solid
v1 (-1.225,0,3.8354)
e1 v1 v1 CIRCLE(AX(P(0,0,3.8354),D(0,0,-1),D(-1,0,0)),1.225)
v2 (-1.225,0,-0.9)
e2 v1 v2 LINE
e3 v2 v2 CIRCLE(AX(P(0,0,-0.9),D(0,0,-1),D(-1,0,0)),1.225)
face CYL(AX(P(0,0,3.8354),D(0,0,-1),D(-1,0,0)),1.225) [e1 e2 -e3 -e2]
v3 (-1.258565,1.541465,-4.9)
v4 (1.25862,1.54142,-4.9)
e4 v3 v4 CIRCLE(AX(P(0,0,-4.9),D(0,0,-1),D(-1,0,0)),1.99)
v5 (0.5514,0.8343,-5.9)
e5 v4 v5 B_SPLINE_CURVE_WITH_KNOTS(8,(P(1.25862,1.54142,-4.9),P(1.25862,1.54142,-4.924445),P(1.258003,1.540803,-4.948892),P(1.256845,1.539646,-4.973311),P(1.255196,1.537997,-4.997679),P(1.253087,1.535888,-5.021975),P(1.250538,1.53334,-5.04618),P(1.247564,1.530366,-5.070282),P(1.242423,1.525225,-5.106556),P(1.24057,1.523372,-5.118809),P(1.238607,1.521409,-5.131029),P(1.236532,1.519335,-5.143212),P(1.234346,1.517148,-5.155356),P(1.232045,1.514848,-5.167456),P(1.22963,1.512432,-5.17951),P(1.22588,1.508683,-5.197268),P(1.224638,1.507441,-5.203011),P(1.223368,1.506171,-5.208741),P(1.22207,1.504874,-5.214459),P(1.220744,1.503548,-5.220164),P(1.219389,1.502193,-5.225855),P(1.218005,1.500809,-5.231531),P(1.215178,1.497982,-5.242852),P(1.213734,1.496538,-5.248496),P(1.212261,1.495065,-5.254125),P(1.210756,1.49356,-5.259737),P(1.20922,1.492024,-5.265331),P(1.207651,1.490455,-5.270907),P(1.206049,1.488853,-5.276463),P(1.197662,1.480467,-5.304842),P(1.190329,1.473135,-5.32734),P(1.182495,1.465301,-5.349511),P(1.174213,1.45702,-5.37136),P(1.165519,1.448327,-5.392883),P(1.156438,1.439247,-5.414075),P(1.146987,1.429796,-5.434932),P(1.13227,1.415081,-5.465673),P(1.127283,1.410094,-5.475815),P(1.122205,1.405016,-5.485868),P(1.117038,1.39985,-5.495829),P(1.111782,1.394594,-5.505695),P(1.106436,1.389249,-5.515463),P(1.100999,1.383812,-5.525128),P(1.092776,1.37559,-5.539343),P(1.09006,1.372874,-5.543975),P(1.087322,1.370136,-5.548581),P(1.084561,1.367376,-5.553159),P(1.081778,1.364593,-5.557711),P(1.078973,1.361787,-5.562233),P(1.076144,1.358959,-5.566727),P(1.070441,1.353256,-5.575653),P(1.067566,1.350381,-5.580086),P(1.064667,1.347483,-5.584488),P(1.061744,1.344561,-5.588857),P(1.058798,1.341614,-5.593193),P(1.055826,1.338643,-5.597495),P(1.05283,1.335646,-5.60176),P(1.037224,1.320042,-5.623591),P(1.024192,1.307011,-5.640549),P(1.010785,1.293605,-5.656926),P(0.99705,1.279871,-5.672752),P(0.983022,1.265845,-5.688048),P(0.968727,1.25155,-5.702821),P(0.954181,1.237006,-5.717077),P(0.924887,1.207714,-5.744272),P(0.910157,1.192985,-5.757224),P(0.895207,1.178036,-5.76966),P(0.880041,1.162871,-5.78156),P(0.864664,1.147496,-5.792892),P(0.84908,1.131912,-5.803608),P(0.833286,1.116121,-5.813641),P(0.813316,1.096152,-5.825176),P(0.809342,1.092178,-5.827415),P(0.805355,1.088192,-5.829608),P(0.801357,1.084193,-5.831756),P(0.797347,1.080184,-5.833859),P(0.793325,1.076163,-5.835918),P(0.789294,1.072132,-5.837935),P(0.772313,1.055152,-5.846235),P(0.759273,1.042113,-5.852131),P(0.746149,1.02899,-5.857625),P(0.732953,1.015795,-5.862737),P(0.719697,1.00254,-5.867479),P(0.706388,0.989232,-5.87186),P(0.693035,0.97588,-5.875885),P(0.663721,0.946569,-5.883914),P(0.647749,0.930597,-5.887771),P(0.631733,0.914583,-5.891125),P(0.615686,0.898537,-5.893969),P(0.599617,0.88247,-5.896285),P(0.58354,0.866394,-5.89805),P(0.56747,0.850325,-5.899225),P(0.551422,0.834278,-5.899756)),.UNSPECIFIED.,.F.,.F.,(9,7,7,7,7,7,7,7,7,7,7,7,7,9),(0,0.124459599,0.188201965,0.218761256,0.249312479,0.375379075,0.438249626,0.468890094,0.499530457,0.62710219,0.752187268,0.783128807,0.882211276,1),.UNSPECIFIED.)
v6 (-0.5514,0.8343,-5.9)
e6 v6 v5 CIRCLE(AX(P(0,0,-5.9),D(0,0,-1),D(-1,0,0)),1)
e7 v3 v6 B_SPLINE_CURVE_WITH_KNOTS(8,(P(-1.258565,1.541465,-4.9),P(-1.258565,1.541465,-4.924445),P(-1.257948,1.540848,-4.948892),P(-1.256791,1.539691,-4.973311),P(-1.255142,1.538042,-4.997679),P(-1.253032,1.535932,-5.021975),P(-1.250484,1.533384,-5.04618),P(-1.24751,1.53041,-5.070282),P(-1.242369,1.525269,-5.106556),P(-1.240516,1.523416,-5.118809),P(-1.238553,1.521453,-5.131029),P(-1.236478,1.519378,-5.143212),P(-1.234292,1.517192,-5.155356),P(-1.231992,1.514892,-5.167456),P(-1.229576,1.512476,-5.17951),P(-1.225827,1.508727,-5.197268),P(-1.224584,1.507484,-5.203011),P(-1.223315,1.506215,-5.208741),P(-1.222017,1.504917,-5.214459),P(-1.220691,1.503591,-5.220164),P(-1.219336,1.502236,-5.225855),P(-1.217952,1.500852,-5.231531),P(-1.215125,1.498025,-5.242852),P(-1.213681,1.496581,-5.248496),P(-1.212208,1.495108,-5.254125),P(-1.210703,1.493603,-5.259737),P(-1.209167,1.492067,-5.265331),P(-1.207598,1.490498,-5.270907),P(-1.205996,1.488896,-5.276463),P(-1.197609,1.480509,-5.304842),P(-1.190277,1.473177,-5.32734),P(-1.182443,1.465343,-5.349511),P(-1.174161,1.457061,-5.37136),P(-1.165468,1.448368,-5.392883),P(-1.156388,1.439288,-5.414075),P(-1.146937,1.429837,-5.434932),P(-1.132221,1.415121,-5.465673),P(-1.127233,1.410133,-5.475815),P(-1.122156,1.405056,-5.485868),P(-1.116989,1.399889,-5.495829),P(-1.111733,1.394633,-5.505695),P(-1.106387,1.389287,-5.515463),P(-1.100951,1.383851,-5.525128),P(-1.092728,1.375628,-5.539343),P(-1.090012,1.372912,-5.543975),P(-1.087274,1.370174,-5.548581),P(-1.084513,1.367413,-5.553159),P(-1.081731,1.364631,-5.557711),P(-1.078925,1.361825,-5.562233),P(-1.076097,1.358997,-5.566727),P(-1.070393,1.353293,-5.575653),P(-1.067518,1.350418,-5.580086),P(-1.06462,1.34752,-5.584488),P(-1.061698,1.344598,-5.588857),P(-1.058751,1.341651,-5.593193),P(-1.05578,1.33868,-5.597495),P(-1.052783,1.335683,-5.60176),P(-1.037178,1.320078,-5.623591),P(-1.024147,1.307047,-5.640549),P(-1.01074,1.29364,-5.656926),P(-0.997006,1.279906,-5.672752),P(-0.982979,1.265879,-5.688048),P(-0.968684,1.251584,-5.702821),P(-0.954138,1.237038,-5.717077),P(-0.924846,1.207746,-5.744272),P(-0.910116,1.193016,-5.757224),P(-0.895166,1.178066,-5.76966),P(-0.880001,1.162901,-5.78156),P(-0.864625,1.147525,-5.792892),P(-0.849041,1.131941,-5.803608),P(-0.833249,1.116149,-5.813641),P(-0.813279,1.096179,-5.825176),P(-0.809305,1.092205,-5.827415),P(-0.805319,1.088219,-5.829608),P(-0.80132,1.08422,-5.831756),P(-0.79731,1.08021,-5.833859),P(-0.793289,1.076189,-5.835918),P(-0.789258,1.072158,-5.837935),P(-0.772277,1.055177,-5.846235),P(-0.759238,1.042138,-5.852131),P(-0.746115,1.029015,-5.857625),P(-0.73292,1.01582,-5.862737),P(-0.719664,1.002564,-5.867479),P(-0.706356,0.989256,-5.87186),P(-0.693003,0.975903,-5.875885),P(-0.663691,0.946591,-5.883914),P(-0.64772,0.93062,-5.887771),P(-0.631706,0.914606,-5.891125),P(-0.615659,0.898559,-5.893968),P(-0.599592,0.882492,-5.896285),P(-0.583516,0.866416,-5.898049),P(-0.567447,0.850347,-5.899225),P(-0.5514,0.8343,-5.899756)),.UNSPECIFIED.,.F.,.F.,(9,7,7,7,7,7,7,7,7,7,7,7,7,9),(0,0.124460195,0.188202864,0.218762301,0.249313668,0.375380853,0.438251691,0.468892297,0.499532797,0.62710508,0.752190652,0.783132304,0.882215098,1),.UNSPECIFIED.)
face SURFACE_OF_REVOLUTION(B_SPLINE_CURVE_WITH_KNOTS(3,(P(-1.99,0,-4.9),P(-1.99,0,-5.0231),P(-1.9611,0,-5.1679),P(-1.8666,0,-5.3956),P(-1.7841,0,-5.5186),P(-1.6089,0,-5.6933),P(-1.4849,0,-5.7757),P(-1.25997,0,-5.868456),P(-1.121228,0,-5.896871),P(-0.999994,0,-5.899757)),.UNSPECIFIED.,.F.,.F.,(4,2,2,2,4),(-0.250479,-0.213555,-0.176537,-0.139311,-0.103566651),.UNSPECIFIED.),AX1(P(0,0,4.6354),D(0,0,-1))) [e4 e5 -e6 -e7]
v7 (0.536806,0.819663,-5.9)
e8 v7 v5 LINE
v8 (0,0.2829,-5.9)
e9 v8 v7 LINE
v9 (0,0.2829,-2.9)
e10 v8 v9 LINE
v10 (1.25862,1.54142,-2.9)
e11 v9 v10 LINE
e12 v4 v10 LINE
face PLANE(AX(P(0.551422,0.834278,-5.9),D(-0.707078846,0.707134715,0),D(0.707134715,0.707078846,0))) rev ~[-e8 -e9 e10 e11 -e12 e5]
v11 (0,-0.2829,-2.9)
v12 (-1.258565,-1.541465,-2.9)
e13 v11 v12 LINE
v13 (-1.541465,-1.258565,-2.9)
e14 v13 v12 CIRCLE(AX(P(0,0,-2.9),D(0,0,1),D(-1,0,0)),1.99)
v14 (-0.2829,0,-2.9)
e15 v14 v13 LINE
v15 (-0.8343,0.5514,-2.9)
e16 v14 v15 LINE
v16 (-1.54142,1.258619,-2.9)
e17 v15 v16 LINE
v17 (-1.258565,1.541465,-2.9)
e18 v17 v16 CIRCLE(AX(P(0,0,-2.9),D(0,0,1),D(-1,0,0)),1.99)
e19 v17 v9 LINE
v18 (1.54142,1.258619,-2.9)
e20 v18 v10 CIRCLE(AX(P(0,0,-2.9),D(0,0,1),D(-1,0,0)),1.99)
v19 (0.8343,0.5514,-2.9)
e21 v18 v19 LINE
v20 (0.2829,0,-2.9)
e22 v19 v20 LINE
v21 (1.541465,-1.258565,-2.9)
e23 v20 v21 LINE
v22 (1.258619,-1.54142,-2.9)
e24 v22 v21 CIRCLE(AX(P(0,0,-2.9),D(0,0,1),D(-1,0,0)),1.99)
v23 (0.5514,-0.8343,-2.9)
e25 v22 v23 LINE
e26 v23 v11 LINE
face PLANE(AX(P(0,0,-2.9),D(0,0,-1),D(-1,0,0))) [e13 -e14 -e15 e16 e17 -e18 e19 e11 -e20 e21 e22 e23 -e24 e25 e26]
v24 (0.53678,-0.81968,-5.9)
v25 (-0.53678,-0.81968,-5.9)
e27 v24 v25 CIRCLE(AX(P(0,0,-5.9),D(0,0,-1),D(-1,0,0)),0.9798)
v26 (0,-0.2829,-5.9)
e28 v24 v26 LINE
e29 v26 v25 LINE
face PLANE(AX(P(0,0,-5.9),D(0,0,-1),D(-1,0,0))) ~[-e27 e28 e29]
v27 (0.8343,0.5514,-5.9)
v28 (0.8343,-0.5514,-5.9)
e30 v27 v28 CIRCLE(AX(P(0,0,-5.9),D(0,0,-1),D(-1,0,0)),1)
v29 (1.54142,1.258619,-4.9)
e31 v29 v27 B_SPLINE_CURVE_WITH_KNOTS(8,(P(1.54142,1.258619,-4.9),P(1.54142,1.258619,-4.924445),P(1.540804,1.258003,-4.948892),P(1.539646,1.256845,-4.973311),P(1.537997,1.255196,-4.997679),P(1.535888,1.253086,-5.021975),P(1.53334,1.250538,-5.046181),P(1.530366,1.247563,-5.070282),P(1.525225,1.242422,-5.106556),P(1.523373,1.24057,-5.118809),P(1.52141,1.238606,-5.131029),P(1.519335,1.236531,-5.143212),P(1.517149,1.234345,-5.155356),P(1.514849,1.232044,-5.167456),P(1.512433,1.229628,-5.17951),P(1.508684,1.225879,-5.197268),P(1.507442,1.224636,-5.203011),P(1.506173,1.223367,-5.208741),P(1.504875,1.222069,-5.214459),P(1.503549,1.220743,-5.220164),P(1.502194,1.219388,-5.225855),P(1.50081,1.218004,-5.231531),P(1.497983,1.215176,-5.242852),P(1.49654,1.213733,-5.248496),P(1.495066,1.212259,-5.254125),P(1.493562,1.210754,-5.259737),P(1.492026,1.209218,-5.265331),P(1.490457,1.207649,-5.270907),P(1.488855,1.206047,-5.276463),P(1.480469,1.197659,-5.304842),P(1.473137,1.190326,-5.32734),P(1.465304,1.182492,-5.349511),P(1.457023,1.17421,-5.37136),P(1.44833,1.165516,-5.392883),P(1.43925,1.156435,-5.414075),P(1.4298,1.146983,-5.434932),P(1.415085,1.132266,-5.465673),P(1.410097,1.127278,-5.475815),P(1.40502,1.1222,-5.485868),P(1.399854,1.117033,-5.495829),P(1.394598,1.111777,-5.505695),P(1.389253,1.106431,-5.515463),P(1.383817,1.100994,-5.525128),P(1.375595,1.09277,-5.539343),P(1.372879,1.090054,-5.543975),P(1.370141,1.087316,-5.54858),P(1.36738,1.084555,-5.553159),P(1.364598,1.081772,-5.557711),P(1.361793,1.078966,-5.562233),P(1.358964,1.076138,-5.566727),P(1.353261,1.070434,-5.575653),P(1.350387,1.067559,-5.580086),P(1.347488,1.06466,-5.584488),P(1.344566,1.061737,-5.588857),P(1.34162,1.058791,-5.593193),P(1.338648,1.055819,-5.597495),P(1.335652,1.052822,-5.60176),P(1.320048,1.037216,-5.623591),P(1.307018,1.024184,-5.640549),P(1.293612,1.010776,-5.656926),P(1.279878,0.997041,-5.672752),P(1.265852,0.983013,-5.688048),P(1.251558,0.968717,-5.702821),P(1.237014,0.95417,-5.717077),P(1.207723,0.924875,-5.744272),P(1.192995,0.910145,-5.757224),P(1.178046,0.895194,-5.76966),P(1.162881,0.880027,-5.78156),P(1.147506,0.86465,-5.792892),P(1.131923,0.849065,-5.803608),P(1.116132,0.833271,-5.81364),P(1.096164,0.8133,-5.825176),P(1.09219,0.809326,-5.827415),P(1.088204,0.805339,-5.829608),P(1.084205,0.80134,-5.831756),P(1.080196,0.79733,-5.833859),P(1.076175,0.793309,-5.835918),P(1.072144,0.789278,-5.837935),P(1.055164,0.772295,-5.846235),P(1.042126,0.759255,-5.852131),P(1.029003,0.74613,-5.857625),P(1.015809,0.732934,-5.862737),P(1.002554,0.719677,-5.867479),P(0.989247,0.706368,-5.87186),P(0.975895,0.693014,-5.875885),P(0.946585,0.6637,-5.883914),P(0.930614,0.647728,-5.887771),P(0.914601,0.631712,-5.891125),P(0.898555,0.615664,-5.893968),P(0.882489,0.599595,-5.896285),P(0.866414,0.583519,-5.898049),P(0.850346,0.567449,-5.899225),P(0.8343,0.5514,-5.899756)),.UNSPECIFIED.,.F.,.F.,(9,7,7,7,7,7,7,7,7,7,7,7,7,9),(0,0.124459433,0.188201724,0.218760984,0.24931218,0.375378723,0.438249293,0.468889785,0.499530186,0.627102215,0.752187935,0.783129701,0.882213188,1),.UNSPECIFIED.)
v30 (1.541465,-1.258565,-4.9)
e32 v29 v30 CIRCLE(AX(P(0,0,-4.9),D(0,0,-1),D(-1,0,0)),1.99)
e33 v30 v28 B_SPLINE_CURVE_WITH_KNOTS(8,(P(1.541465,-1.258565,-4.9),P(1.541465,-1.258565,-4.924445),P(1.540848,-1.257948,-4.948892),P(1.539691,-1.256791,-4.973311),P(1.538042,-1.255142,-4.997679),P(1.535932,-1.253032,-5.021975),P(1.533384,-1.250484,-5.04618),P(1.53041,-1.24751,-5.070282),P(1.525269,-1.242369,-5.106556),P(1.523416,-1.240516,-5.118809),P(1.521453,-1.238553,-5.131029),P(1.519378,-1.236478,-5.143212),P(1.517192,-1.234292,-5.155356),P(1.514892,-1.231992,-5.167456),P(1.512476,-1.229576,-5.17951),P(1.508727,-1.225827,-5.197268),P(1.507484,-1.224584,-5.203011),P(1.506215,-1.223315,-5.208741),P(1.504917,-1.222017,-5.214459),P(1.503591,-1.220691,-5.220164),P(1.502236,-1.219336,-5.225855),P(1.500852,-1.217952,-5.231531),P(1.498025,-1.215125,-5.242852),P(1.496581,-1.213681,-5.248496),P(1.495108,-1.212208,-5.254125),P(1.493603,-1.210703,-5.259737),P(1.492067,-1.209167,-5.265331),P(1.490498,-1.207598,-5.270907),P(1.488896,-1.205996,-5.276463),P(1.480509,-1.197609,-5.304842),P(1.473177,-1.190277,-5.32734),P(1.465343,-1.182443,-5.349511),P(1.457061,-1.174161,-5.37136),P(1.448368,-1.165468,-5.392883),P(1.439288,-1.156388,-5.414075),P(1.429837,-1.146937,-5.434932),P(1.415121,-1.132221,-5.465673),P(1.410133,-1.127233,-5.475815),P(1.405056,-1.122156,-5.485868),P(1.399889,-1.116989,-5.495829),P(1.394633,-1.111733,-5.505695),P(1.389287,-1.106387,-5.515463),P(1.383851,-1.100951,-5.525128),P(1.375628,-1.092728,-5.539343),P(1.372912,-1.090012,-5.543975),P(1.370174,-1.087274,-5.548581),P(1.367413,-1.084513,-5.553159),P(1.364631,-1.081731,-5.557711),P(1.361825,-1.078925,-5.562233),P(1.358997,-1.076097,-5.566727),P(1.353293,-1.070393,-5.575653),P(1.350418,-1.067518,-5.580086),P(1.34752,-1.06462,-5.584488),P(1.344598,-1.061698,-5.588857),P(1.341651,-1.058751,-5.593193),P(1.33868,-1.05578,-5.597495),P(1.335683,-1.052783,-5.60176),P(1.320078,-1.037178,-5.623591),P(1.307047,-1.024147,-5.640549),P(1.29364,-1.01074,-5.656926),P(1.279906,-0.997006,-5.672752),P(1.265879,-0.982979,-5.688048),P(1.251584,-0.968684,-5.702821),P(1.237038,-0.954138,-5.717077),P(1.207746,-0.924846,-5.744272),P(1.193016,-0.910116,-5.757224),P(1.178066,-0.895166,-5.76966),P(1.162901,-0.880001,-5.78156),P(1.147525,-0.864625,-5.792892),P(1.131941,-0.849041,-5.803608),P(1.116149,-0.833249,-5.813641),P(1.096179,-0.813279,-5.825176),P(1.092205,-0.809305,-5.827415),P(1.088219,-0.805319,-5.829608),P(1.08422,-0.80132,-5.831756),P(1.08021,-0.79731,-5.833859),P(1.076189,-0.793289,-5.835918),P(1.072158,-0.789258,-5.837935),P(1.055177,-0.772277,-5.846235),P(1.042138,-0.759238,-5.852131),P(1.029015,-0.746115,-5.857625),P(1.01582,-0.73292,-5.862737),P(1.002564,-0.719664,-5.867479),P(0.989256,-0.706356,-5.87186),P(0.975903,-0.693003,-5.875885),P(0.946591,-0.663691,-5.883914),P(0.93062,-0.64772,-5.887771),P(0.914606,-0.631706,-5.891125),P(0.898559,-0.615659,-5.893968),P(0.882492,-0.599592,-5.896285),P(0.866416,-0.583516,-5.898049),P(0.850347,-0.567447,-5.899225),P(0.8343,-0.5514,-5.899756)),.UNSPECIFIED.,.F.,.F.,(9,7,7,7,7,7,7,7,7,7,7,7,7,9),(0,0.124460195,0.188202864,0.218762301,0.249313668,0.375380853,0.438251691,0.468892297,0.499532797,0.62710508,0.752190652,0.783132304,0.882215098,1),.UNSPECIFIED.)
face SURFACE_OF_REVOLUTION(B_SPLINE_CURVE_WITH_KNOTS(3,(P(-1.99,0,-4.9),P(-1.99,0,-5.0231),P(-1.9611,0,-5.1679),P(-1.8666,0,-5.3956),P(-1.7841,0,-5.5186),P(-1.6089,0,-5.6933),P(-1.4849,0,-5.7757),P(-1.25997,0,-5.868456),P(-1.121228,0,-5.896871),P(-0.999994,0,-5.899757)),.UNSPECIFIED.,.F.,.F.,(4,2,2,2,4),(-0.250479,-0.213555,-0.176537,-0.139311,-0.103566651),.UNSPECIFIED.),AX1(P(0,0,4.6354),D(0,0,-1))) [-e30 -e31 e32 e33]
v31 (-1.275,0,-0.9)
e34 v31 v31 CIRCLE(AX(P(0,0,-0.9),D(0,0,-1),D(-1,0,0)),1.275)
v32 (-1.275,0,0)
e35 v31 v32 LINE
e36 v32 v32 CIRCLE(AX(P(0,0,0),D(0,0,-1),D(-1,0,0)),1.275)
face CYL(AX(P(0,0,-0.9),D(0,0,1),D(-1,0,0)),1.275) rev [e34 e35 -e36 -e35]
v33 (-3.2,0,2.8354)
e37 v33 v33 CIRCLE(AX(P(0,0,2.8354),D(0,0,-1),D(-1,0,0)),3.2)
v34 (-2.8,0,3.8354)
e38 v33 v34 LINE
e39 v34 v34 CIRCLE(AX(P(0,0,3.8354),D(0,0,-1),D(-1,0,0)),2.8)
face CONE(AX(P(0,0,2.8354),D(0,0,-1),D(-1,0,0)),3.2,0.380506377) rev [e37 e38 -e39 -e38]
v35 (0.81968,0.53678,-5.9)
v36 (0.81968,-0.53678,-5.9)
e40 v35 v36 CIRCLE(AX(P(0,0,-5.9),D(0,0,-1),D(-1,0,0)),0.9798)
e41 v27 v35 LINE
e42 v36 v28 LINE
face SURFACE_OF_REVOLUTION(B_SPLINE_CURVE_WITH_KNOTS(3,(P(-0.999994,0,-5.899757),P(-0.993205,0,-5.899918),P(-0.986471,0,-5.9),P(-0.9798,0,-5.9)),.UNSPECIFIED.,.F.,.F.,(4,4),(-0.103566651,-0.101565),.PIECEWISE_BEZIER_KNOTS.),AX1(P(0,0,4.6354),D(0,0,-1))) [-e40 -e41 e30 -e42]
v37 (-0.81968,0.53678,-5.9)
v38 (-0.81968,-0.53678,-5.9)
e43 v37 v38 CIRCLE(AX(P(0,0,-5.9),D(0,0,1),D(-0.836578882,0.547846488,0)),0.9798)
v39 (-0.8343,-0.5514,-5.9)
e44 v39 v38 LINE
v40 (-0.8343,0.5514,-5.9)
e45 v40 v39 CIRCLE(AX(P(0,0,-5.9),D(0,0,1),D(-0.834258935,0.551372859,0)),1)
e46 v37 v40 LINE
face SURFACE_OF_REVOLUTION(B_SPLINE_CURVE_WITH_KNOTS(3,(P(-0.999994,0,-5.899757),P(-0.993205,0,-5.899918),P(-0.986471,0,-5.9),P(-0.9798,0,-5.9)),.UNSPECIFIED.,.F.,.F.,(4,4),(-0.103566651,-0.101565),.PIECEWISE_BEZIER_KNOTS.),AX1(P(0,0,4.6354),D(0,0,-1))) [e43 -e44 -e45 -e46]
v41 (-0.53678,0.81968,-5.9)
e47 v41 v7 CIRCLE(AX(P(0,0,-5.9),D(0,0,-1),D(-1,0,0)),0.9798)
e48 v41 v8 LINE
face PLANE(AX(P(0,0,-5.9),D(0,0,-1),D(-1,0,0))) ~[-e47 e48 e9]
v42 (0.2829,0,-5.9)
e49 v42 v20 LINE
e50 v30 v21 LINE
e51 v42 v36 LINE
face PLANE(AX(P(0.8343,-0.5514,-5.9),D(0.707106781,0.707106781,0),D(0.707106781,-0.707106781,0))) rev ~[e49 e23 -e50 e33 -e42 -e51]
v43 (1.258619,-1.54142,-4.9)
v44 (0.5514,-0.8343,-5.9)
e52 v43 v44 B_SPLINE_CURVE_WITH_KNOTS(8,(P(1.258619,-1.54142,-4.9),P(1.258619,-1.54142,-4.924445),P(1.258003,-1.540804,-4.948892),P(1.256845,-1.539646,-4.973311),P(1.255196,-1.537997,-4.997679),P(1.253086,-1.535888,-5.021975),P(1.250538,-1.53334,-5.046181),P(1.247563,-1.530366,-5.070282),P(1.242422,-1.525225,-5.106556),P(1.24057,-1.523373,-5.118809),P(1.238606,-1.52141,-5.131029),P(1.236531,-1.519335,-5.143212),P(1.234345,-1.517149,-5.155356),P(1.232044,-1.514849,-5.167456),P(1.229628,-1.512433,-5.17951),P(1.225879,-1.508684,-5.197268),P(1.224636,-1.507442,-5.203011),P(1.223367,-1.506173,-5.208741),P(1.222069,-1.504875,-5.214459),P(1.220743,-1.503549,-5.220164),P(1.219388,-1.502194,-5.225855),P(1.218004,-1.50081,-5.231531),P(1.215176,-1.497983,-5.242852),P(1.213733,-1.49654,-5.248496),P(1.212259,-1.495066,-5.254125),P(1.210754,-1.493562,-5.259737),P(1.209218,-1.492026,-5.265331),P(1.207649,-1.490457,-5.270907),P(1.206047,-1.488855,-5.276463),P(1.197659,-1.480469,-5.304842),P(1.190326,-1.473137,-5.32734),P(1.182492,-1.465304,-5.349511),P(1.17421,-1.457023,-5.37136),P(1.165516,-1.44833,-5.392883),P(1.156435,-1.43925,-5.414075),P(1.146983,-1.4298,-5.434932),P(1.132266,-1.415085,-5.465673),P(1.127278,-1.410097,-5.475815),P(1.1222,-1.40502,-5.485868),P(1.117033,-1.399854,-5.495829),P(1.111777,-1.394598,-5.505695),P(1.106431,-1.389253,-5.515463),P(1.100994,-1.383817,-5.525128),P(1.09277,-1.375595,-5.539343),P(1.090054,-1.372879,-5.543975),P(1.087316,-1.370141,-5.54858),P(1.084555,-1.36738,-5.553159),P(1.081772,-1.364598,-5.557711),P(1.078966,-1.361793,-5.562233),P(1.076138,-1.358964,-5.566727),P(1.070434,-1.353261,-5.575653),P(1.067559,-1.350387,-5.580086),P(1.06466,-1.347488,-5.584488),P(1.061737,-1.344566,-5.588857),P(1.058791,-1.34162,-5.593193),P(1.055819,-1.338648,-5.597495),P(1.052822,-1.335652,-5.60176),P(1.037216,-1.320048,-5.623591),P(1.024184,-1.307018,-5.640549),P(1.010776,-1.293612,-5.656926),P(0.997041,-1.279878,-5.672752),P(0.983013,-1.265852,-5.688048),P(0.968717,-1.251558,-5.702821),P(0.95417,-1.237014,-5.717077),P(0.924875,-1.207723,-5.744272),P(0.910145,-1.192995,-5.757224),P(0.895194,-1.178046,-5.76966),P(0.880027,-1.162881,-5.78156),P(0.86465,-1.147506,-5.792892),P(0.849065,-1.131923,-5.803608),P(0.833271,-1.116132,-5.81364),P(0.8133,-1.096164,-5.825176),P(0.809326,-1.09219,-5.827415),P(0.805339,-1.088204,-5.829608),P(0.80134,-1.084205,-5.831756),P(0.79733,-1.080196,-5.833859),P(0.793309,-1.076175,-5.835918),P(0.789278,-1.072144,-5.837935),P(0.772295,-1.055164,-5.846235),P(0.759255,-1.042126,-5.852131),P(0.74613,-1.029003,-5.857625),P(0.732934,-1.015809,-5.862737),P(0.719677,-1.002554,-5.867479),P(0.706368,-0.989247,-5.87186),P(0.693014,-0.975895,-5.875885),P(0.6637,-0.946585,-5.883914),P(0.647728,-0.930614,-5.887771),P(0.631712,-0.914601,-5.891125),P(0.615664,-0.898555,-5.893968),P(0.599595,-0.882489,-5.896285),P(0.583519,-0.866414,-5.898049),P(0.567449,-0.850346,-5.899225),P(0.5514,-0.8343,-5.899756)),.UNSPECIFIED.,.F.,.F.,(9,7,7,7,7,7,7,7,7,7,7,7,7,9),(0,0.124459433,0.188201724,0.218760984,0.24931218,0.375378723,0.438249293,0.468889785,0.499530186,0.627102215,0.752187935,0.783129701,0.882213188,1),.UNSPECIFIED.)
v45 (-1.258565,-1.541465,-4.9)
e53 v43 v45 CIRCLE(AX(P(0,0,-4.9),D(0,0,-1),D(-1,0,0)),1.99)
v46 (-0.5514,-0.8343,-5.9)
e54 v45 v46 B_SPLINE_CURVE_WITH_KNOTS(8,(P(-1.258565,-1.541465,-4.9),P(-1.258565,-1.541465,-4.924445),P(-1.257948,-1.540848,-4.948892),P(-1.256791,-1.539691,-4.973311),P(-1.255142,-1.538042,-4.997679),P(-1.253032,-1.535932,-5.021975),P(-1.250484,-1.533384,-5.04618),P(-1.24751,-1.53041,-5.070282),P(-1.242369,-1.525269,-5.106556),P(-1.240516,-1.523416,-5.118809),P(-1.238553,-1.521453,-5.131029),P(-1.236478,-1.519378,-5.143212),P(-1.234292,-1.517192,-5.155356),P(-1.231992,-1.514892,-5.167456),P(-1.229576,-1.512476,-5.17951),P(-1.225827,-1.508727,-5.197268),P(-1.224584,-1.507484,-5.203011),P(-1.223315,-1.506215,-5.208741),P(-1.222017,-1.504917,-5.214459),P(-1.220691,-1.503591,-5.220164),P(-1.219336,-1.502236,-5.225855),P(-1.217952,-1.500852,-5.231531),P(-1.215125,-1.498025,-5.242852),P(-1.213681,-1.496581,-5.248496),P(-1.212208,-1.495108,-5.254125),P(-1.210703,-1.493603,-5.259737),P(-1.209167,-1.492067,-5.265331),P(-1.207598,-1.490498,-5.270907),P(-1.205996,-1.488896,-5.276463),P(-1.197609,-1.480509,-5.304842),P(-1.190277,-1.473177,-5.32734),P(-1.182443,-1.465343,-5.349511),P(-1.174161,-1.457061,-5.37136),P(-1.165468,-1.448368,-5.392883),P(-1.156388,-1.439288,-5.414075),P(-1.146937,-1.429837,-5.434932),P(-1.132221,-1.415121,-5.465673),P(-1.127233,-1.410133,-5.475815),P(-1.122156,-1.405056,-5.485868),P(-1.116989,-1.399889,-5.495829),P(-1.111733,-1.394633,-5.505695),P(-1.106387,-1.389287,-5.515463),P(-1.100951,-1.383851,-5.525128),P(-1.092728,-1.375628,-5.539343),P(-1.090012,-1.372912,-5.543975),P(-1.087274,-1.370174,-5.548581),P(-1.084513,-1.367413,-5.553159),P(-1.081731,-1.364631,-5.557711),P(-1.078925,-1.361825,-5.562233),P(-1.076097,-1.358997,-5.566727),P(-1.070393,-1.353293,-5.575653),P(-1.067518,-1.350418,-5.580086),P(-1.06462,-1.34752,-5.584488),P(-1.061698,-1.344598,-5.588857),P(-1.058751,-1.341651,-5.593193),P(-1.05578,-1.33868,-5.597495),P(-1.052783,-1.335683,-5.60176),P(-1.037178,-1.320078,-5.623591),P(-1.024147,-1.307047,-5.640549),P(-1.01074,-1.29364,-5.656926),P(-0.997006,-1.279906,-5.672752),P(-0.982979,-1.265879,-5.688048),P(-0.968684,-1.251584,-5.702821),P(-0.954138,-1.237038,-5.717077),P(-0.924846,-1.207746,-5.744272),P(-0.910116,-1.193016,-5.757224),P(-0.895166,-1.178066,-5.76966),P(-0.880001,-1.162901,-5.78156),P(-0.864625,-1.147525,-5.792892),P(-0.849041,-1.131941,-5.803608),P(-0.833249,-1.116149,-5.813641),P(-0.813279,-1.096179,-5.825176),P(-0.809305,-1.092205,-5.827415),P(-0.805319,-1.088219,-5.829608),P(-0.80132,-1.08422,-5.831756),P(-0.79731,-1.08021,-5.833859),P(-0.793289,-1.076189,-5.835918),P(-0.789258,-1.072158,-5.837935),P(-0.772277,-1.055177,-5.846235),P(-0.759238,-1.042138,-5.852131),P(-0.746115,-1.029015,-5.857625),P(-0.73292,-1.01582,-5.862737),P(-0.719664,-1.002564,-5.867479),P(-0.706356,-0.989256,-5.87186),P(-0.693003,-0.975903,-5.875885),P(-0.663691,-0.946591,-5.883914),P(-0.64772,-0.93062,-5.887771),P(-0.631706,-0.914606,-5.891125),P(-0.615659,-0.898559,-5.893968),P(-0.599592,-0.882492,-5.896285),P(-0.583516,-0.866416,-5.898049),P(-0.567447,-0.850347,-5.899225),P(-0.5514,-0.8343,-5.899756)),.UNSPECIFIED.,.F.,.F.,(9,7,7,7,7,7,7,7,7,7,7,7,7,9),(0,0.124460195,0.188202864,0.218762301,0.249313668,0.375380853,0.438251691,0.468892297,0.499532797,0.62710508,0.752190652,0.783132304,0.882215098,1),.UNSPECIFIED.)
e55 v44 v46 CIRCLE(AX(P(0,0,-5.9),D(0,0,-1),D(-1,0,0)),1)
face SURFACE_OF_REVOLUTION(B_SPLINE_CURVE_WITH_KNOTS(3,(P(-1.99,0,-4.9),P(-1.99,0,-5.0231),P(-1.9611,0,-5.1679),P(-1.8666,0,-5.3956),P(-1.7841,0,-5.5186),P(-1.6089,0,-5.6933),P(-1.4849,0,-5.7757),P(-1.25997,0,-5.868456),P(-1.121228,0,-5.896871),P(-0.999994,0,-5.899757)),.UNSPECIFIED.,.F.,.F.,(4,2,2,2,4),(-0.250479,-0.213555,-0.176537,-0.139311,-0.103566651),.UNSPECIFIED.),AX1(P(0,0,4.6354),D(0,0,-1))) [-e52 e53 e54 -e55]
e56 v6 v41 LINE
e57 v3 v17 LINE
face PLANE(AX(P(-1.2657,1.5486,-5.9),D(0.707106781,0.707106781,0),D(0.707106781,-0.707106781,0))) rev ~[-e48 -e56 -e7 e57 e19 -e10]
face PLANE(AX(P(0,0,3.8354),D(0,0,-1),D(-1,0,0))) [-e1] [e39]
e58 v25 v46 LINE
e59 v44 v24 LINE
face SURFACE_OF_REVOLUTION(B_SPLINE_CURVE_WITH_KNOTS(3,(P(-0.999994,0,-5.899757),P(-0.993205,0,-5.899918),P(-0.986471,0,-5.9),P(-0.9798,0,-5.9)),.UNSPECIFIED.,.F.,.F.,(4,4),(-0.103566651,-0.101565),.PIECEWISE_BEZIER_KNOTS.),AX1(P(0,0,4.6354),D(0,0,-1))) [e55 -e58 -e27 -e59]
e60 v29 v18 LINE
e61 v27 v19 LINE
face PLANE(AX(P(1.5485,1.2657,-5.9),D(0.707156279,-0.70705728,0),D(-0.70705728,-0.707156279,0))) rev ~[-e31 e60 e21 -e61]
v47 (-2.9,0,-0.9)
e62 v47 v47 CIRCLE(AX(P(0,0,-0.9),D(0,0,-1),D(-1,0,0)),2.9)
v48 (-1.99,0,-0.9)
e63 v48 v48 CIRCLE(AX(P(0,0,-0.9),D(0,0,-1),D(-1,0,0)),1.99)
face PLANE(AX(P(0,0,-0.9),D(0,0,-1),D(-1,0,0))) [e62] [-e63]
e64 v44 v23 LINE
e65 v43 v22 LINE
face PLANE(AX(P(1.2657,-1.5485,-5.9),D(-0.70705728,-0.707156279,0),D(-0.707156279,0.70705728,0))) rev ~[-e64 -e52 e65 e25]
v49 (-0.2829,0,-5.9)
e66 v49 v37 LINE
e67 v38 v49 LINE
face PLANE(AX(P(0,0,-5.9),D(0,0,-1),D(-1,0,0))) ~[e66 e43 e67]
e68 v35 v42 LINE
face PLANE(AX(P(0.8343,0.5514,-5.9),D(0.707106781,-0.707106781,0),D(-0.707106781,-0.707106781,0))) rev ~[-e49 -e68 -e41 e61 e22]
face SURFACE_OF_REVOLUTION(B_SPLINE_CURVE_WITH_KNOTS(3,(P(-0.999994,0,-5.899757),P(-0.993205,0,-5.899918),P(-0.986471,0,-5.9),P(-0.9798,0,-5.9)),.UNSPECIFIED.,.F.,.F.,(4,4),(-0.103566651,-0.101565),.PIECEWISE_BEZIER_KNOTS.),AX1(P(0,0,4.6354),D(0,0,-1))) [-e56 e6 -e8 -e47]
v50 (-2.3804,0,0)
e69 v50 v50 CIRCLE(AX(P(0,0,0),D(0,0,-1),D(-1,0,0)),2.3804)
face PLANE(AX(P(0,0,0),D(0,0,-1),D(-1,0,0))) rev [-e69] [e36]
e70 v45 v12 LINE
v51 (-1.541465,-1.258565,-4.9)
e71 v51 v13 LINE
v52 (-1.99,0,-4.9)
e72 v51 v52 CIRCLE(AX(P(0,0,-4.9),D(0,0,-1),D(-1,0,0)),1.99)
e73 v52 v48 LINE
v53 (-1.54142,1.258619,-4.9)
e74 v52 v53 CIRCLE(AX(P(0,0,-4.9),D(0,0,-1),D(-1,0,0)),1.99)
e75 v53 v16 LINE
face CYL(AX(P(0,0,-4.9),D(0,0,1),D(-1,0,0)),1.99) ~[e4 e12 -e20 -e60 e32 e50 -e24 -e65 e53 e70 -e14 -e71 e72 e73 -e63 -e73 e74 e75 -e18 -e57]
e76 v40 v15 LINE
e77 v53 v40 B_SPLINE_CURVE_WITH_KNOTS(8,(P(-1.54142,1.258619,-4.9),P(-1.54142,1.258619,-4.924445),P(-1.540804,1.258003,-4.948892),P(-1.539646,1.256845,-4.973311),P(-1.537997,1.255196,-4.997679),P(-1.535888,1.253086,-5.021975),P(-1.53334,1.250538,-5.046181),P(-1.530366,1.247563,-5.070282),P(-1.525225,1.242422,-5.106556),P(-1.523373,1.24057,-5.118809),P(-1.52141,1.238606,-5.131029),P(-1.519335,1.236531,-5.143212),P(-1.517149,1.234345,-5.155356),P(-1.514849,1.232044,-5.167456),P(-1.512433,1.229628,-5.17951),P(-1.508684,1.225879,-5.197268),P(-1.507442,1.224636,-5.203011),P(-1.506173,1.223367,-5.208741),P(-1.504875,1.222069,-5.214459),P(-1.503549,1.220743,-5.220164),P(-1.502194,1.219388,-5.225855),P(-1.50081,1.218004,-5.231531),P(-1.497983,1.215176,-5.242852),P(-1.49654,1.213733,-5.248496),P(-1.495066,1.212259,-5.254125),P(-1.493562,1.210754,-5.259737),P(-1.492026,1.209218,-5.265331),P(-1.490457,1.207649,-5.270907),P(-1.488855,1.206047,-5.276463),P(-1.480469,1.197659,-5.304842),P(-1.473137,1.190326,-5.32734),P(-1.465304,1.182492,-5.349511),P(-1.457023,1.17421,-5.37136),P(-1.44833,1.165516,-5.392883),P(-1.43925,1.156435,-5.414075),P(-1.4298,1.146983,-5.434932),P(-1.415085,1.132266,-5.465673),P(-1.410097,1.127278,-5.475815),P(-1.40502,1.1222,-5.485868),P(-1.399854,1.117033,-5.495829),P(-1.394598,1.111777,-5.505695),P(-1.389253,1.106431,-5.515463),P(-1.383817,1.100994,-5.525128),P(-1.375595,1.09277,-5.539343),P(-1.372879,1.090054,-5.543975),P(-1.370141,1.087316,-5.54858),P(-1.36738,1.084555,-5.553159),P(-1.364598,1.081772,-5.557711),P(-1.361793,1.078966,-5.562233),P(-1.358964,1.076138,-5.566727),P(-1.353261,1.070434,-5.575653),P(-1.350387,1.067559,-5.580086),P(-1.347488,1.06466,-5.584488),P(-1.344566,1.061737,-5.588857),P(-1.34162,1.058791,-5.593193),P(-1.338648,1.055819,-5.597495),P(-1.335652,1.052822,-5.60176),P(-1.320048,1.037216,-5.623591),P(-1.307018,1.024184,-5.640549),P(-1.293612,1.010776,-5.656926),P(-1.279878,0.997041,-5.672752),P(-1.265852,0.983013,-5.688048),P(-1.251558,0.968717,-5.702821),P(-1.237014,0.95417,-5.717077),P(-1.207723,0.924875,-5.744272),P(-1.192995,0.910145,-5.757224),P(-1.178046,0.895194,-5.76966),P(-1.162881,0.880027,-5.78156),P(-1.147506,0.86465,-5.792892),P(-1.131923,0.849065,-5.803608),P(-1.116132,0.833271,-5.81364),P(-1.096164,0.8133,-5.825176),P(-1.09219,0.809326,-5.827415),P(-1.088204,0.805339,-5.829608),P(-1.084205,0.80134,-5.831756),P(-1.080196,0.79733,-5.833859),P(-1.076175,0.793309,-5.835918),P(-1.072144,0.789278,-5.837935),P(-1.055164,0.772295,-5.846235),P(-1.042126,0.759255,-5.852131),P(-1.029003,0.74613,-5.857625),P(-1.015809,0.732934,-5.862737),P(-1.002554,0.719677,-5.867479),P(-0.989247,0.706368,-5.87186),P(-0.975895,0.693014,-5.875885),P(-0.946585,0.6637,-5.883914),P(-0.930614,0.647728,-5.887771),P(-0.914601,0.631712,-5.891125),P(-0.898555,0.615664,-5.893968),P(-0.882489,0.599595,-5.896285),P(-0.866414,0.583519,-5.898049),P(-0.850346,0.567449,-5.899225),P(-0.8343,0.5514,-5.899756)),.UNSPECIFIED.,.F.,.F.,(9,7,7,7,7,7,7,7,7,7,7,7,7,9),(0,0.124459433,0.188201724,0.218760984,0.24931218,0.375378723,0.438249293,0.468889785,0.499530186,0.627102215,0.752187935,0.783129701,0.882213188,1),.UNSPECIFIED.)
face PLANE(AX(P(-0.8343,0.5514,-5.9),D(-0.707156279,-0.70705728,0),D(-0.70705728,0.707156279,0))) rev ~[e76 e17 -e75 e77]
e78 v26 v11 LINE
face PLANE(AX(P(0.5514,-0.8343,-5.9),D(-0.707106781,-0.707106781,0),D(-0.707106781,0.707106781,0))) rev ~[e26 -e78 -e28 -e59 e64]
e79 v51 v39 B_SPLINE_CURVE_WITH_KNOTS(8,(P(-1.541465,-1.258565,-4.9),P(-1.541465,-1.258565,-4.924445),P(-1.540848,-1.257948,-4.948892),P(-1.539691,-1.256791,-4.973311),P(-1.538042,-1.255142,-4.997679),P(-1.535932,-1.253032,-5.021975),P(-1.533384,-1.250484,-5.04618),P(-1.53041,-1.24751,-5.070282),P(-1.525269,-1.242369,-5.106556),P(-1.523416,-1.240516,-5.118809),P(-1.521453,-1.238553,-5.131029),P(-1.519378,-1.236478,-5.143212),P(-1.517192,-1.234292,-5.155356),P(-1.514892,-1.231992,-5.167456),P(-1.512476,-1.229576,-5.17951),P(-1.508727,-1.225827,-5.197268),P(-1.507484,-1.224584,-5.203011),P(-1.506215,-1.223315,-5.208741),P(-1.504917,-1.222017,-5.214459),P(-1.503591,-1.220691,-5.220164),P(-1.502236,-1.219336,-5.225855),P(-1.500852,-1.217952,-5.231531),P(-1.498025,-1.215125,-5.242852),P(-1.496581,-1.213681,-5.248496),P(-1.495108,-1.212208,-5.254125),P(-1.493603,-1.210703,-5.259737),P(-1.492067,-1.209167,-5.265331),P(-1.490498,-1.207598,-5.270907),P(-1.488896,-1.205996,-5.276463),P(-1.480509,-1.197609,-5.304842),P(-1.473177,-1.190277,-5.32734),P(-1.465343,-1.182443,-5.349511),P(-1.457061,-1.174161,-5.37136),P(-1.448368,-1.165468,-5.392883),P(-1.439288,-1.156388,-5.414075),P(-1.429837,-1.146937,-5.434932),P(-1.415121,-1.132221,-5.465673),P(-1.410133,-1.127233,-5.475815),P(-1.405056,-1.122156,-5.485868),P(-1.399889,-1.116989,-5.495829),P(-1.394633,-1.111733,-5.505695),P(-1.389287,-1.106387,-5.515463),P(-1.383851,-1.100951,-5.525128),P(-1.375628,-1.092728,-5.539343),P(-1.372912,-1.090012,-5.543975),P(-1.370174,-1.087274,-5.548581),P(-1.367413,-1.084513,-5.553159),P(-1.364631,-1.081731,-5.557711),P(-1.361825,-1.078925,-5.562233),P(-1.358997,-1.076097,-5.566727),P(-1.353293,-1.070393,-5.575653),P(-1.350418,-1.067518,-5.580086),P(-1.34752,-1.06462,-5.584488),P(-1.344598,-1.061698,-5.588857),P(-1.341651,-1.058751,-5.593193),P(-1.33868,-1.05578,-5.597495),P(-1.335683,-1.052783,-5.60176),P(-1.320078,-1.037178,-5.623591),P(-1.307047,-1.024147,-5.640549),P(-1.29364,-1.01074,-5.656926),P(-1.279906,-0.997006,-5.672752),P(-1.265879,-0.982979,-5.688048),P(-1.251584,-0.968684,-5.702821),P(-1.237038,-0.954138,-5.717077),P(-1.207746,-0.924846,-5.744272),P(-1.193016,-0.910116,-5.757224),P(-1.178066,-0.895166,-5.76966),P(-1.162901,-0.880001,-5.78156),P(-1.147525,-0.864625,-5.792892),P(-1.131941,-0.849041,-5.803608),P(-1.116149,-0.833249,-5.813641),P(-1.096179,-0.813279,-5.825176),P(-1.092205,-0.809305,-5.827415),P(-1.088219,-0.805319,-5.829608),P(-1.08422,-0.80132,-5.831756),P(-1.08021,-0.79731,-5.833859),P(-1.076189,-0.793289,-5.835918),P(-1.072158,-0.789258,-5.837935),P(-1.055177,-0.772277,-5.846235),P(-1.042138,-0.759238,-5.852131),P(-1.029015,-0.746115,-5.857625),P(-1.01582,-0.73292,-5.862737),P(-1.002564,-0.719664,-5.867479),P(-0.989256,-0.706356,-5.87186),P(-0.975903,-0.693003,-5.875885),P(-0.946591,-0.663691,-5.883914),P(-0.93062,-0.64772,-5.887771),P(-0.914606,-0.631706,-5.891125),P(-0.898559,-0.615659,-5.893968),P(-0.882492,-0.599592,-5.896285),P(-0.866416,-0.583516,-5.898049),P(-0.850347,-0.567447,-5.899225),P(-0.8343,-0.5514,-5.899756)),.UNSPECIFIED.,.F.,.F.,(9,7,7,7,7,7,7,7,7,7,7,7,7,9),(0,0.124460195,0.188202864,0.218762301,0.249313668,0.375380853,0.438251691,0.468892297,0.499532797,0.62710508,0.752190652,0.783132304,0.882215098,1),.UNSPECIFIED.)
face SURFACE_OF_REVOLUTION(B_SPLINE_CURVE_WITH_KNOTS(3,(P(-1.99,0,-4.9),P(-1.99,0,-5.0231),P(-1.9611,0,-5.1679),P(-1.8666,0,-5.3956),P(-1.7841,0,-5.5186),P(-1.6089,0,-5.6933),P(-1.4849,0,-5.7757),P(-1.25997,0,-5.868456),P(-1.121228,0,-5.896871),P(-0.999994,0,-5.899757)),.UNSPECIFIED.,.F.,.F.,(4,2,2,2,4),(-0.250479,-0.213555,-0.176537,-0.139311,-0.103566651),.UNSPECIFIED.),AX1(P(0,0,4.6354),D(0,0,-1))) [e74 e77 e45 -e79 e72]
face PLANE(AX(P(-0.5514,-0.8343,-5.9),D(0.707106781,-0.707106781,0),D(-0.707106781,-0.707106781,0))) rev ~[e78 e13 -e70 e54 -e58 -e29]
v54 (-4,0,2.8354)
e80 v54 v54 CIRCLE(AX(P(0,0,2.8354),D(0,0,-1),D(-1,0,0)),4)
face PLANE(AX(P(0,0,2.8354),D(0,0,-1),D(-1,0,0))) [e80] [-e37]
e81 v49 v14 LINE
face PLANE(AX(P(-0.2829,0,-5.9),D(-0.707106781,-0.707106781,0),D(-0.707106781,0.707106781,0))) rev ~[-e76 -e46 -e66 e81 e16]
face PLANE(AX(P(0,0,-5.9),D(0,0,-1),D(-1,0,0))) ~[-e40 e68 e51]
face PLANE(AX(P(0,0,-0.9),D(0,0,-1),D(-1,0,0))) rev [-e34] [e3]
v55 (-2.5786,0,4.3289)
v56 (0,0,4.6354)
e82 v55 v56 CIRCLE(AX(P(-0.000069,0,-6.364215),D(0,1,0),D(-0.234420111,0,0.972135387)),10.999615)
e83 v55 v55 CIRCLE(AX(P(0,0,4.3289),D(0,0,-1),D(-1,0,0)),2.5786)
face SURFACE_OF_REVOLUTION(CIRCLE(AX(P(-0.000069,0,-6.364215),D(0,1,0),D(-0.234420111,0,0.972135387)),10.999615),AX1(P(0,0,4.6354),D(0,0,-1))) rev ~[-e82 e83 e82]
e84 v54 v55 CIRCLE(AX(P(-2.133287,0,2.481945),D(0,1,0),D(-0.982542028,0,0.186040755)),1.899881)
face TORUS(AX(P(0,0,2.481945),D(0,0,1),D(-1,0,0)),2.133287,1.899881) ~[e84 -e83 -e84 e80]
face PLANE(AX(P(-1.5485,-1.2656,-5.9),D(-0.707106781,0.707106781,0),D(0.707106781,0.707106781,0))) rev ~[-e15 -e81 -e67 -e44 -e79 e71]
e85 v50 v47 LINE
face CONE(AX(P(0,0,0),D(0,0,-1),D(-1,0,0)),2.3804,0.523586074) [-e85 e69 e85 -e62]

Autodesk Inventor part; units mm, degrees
ref_plane "YZ Plane" through (0, 0, 0) normal (1, 0, 0) x (0, 1, 0)
ref_plane "XZ Plane" through (0, 0, 0) normal (0, 1, 0) x (-1, 0, 0)
ref_plane "XY Plane" through (0, 0, 0) normal (0, 0, 1) x (1, 0, 0)
sketch "Sketch1" plane through (0, 0, 0) normal (0, 1, 0) x (-1, 0, 0)
  arc A0 (2.5786, 4.3289) -> (0, 4.6354) centre (0, -6.3646) ccw
  arc A1 (4, 2.8354) -> (2.5786, 4.3289) centre (2.1332, 2.4819) ccw
  line L0 (4, 2.8354) -> (3.2, 2.8354)
  line L1 (3.2, 2.8354) -> (2.8, 3.8354)
  line L2 (2.8, 3.8354) -> (1.225, 3.8354)
  line L3 (1.225, 3.8354) -> (1.225, -0.9)
  line L4 (1.225, -0.9) -> (1.275, -0.9)
  line L5 (1.275, -0.9) -> (1.275, 0)
  line L6 (1.275, 0) -> (2.3804, 0)
  line L7 (2.3804, 0) -> (2.9, -0.9)
  line L8 (2.9, -0.9) -> (1.99, -0.9)
  line L9 (1.275, -1.5) -> (1.225, -1.5)
  arc A2 (2.5786, 4.3289) -> (0, 4.6354) centre (0, -6.3646) ccw
  arc A3 (4, 2.8354) -> (2.5786, 4.3289) centre (2.1332, 2.4819) ccw
  line L10 (4, 2.8354) -> (3.2, 2.8354)
  line L11 (3.2, 2.8354) -> (2.8, 3.8354)
  line L12 (2.8, 3.8354) -> (1.225, 3.8354)
  line L13 (1.225, 3.8354) -> (1.225, -0.9)
  line L14 (1.225, -0.9) -> (1.275, -0.9)
  line L15 (1.275, -0.9) -> (1.275, 0)
  line L16 (1.275, 0) -> (2.3804, 0)
  line L17 (2.3804, 0) -> (2.9, -0.9)
  line L18 (2.9, -0.9) -> (2, -0.9)
  line L19 (1.275, -1.5) -> (1.225, -1.5)
  line L20 (1.99, -4.9) -> (1.99, -0.9)
  spline S0 degree 3 poles (1.99, -4.9) (1.99, -5.0231) (1.9611, -5.1679) (1.8666, -5.3956) (1.7841, -5.5186) (1.6089, -5.6933) (1.4849, -5.7757) (1.2538, -5.871) (1.1056, -5.9) (0.9798, -5.9) knots -0.250479 -0.250479 -0.250479 -0.250479 -0.213555 -0.213555 -0.176537 -0.176537 -0.139311 -0.139311 -0.101565 -0.101565 -0.101565 -0.101565
  line L21 (0, -5.9) -> (1, -5.9)
  line L22 (0, 4.6354) -> (0, -5.9)
  point P0 (0, 0)
  point P1 (0, 0)
revolve "Revolution1" add sketch "Sketch1" angle 360 about axis through (0, 0, 4.6354) along (0, 0, -1)
sketch "Sketch2" plane through (0, 0, -5.9) normal (0, 0, -1) x (-1, 0, 0)
  line L0 (0.8343, -0.5514) -> (0.2829, 0)
  line L1 (0.2829, 0) -> (0.8343, 0.5514)
  arc A0 (0.8343, -0.5514) -> (0.8343, 0.5514) centre (0, 0) ccw
  line L2 (-0.5514, -0.8343) -> (0, -0.2829)
  line L3 (0, -0.2829) -> (1.2657, -1.5486)
  arc A1 (-0.5514, -0.8343) -> (0.5514, -0.8343) centre (0, 0) ccw
  line L4 (-0.2829, 0) -> (-1.5486, -1.2657)
  arc A2 (-0.8343, 0.5514) -> (-0.8343, -0.5514) centre (0, 0) ccw
  line L5 (-0.8343, 0.5514) -> (-0.2829, 0)
  line L6 (0, 0.2829) -> (-1.2657, 1.5485)
  arc A3 (0.5514, 0.8343) -> (-0.5514, 0.8343) centre (0, 0) ccw
  line L7 (1.2657, 1.5486) -> (0, 0.2829)
  circle A4 centre (0, 0) radius 2.9
  line L8 (-1.2657, -1.5485) -> (-0.5514, -0.8343)
  line L9 (-1.5485, 1.2657) -> (-0.8343, 0.5514)
  line L10 (1.5485, -1.2656) -> (0.8343, -0.5514)
  line L11 (0.8343, 0.5514) -> (1.5485, 1.2657)
  arc A5 (1.2656, -1.5485) -> (1.5485, -1.2656) centre (0, 0) ccw
  arc A6 (-1.5485, -1.2656) -> (-1.2656, -1.5485) centre (0, 0) ccw
  arc A7 (1.5485, 1.2657) -> (1.2657, 1.5485) centre (0, 0) ccw
  arc A8 (-1.2656, 1.5485) -> (-1.5485, 1.2656) centre (0, 0) ccw
  point P0 (0, 0)
extrude "Extrusion1" cut sketch "Sketch2" against normal blind 3 contours L10 A5 L3 L2 L8 A6 L4 L5 L9 A8 L6 L7 A7 L11 L1 L0
properties part number "11-6001" material "Polystyrene, High Impact"
